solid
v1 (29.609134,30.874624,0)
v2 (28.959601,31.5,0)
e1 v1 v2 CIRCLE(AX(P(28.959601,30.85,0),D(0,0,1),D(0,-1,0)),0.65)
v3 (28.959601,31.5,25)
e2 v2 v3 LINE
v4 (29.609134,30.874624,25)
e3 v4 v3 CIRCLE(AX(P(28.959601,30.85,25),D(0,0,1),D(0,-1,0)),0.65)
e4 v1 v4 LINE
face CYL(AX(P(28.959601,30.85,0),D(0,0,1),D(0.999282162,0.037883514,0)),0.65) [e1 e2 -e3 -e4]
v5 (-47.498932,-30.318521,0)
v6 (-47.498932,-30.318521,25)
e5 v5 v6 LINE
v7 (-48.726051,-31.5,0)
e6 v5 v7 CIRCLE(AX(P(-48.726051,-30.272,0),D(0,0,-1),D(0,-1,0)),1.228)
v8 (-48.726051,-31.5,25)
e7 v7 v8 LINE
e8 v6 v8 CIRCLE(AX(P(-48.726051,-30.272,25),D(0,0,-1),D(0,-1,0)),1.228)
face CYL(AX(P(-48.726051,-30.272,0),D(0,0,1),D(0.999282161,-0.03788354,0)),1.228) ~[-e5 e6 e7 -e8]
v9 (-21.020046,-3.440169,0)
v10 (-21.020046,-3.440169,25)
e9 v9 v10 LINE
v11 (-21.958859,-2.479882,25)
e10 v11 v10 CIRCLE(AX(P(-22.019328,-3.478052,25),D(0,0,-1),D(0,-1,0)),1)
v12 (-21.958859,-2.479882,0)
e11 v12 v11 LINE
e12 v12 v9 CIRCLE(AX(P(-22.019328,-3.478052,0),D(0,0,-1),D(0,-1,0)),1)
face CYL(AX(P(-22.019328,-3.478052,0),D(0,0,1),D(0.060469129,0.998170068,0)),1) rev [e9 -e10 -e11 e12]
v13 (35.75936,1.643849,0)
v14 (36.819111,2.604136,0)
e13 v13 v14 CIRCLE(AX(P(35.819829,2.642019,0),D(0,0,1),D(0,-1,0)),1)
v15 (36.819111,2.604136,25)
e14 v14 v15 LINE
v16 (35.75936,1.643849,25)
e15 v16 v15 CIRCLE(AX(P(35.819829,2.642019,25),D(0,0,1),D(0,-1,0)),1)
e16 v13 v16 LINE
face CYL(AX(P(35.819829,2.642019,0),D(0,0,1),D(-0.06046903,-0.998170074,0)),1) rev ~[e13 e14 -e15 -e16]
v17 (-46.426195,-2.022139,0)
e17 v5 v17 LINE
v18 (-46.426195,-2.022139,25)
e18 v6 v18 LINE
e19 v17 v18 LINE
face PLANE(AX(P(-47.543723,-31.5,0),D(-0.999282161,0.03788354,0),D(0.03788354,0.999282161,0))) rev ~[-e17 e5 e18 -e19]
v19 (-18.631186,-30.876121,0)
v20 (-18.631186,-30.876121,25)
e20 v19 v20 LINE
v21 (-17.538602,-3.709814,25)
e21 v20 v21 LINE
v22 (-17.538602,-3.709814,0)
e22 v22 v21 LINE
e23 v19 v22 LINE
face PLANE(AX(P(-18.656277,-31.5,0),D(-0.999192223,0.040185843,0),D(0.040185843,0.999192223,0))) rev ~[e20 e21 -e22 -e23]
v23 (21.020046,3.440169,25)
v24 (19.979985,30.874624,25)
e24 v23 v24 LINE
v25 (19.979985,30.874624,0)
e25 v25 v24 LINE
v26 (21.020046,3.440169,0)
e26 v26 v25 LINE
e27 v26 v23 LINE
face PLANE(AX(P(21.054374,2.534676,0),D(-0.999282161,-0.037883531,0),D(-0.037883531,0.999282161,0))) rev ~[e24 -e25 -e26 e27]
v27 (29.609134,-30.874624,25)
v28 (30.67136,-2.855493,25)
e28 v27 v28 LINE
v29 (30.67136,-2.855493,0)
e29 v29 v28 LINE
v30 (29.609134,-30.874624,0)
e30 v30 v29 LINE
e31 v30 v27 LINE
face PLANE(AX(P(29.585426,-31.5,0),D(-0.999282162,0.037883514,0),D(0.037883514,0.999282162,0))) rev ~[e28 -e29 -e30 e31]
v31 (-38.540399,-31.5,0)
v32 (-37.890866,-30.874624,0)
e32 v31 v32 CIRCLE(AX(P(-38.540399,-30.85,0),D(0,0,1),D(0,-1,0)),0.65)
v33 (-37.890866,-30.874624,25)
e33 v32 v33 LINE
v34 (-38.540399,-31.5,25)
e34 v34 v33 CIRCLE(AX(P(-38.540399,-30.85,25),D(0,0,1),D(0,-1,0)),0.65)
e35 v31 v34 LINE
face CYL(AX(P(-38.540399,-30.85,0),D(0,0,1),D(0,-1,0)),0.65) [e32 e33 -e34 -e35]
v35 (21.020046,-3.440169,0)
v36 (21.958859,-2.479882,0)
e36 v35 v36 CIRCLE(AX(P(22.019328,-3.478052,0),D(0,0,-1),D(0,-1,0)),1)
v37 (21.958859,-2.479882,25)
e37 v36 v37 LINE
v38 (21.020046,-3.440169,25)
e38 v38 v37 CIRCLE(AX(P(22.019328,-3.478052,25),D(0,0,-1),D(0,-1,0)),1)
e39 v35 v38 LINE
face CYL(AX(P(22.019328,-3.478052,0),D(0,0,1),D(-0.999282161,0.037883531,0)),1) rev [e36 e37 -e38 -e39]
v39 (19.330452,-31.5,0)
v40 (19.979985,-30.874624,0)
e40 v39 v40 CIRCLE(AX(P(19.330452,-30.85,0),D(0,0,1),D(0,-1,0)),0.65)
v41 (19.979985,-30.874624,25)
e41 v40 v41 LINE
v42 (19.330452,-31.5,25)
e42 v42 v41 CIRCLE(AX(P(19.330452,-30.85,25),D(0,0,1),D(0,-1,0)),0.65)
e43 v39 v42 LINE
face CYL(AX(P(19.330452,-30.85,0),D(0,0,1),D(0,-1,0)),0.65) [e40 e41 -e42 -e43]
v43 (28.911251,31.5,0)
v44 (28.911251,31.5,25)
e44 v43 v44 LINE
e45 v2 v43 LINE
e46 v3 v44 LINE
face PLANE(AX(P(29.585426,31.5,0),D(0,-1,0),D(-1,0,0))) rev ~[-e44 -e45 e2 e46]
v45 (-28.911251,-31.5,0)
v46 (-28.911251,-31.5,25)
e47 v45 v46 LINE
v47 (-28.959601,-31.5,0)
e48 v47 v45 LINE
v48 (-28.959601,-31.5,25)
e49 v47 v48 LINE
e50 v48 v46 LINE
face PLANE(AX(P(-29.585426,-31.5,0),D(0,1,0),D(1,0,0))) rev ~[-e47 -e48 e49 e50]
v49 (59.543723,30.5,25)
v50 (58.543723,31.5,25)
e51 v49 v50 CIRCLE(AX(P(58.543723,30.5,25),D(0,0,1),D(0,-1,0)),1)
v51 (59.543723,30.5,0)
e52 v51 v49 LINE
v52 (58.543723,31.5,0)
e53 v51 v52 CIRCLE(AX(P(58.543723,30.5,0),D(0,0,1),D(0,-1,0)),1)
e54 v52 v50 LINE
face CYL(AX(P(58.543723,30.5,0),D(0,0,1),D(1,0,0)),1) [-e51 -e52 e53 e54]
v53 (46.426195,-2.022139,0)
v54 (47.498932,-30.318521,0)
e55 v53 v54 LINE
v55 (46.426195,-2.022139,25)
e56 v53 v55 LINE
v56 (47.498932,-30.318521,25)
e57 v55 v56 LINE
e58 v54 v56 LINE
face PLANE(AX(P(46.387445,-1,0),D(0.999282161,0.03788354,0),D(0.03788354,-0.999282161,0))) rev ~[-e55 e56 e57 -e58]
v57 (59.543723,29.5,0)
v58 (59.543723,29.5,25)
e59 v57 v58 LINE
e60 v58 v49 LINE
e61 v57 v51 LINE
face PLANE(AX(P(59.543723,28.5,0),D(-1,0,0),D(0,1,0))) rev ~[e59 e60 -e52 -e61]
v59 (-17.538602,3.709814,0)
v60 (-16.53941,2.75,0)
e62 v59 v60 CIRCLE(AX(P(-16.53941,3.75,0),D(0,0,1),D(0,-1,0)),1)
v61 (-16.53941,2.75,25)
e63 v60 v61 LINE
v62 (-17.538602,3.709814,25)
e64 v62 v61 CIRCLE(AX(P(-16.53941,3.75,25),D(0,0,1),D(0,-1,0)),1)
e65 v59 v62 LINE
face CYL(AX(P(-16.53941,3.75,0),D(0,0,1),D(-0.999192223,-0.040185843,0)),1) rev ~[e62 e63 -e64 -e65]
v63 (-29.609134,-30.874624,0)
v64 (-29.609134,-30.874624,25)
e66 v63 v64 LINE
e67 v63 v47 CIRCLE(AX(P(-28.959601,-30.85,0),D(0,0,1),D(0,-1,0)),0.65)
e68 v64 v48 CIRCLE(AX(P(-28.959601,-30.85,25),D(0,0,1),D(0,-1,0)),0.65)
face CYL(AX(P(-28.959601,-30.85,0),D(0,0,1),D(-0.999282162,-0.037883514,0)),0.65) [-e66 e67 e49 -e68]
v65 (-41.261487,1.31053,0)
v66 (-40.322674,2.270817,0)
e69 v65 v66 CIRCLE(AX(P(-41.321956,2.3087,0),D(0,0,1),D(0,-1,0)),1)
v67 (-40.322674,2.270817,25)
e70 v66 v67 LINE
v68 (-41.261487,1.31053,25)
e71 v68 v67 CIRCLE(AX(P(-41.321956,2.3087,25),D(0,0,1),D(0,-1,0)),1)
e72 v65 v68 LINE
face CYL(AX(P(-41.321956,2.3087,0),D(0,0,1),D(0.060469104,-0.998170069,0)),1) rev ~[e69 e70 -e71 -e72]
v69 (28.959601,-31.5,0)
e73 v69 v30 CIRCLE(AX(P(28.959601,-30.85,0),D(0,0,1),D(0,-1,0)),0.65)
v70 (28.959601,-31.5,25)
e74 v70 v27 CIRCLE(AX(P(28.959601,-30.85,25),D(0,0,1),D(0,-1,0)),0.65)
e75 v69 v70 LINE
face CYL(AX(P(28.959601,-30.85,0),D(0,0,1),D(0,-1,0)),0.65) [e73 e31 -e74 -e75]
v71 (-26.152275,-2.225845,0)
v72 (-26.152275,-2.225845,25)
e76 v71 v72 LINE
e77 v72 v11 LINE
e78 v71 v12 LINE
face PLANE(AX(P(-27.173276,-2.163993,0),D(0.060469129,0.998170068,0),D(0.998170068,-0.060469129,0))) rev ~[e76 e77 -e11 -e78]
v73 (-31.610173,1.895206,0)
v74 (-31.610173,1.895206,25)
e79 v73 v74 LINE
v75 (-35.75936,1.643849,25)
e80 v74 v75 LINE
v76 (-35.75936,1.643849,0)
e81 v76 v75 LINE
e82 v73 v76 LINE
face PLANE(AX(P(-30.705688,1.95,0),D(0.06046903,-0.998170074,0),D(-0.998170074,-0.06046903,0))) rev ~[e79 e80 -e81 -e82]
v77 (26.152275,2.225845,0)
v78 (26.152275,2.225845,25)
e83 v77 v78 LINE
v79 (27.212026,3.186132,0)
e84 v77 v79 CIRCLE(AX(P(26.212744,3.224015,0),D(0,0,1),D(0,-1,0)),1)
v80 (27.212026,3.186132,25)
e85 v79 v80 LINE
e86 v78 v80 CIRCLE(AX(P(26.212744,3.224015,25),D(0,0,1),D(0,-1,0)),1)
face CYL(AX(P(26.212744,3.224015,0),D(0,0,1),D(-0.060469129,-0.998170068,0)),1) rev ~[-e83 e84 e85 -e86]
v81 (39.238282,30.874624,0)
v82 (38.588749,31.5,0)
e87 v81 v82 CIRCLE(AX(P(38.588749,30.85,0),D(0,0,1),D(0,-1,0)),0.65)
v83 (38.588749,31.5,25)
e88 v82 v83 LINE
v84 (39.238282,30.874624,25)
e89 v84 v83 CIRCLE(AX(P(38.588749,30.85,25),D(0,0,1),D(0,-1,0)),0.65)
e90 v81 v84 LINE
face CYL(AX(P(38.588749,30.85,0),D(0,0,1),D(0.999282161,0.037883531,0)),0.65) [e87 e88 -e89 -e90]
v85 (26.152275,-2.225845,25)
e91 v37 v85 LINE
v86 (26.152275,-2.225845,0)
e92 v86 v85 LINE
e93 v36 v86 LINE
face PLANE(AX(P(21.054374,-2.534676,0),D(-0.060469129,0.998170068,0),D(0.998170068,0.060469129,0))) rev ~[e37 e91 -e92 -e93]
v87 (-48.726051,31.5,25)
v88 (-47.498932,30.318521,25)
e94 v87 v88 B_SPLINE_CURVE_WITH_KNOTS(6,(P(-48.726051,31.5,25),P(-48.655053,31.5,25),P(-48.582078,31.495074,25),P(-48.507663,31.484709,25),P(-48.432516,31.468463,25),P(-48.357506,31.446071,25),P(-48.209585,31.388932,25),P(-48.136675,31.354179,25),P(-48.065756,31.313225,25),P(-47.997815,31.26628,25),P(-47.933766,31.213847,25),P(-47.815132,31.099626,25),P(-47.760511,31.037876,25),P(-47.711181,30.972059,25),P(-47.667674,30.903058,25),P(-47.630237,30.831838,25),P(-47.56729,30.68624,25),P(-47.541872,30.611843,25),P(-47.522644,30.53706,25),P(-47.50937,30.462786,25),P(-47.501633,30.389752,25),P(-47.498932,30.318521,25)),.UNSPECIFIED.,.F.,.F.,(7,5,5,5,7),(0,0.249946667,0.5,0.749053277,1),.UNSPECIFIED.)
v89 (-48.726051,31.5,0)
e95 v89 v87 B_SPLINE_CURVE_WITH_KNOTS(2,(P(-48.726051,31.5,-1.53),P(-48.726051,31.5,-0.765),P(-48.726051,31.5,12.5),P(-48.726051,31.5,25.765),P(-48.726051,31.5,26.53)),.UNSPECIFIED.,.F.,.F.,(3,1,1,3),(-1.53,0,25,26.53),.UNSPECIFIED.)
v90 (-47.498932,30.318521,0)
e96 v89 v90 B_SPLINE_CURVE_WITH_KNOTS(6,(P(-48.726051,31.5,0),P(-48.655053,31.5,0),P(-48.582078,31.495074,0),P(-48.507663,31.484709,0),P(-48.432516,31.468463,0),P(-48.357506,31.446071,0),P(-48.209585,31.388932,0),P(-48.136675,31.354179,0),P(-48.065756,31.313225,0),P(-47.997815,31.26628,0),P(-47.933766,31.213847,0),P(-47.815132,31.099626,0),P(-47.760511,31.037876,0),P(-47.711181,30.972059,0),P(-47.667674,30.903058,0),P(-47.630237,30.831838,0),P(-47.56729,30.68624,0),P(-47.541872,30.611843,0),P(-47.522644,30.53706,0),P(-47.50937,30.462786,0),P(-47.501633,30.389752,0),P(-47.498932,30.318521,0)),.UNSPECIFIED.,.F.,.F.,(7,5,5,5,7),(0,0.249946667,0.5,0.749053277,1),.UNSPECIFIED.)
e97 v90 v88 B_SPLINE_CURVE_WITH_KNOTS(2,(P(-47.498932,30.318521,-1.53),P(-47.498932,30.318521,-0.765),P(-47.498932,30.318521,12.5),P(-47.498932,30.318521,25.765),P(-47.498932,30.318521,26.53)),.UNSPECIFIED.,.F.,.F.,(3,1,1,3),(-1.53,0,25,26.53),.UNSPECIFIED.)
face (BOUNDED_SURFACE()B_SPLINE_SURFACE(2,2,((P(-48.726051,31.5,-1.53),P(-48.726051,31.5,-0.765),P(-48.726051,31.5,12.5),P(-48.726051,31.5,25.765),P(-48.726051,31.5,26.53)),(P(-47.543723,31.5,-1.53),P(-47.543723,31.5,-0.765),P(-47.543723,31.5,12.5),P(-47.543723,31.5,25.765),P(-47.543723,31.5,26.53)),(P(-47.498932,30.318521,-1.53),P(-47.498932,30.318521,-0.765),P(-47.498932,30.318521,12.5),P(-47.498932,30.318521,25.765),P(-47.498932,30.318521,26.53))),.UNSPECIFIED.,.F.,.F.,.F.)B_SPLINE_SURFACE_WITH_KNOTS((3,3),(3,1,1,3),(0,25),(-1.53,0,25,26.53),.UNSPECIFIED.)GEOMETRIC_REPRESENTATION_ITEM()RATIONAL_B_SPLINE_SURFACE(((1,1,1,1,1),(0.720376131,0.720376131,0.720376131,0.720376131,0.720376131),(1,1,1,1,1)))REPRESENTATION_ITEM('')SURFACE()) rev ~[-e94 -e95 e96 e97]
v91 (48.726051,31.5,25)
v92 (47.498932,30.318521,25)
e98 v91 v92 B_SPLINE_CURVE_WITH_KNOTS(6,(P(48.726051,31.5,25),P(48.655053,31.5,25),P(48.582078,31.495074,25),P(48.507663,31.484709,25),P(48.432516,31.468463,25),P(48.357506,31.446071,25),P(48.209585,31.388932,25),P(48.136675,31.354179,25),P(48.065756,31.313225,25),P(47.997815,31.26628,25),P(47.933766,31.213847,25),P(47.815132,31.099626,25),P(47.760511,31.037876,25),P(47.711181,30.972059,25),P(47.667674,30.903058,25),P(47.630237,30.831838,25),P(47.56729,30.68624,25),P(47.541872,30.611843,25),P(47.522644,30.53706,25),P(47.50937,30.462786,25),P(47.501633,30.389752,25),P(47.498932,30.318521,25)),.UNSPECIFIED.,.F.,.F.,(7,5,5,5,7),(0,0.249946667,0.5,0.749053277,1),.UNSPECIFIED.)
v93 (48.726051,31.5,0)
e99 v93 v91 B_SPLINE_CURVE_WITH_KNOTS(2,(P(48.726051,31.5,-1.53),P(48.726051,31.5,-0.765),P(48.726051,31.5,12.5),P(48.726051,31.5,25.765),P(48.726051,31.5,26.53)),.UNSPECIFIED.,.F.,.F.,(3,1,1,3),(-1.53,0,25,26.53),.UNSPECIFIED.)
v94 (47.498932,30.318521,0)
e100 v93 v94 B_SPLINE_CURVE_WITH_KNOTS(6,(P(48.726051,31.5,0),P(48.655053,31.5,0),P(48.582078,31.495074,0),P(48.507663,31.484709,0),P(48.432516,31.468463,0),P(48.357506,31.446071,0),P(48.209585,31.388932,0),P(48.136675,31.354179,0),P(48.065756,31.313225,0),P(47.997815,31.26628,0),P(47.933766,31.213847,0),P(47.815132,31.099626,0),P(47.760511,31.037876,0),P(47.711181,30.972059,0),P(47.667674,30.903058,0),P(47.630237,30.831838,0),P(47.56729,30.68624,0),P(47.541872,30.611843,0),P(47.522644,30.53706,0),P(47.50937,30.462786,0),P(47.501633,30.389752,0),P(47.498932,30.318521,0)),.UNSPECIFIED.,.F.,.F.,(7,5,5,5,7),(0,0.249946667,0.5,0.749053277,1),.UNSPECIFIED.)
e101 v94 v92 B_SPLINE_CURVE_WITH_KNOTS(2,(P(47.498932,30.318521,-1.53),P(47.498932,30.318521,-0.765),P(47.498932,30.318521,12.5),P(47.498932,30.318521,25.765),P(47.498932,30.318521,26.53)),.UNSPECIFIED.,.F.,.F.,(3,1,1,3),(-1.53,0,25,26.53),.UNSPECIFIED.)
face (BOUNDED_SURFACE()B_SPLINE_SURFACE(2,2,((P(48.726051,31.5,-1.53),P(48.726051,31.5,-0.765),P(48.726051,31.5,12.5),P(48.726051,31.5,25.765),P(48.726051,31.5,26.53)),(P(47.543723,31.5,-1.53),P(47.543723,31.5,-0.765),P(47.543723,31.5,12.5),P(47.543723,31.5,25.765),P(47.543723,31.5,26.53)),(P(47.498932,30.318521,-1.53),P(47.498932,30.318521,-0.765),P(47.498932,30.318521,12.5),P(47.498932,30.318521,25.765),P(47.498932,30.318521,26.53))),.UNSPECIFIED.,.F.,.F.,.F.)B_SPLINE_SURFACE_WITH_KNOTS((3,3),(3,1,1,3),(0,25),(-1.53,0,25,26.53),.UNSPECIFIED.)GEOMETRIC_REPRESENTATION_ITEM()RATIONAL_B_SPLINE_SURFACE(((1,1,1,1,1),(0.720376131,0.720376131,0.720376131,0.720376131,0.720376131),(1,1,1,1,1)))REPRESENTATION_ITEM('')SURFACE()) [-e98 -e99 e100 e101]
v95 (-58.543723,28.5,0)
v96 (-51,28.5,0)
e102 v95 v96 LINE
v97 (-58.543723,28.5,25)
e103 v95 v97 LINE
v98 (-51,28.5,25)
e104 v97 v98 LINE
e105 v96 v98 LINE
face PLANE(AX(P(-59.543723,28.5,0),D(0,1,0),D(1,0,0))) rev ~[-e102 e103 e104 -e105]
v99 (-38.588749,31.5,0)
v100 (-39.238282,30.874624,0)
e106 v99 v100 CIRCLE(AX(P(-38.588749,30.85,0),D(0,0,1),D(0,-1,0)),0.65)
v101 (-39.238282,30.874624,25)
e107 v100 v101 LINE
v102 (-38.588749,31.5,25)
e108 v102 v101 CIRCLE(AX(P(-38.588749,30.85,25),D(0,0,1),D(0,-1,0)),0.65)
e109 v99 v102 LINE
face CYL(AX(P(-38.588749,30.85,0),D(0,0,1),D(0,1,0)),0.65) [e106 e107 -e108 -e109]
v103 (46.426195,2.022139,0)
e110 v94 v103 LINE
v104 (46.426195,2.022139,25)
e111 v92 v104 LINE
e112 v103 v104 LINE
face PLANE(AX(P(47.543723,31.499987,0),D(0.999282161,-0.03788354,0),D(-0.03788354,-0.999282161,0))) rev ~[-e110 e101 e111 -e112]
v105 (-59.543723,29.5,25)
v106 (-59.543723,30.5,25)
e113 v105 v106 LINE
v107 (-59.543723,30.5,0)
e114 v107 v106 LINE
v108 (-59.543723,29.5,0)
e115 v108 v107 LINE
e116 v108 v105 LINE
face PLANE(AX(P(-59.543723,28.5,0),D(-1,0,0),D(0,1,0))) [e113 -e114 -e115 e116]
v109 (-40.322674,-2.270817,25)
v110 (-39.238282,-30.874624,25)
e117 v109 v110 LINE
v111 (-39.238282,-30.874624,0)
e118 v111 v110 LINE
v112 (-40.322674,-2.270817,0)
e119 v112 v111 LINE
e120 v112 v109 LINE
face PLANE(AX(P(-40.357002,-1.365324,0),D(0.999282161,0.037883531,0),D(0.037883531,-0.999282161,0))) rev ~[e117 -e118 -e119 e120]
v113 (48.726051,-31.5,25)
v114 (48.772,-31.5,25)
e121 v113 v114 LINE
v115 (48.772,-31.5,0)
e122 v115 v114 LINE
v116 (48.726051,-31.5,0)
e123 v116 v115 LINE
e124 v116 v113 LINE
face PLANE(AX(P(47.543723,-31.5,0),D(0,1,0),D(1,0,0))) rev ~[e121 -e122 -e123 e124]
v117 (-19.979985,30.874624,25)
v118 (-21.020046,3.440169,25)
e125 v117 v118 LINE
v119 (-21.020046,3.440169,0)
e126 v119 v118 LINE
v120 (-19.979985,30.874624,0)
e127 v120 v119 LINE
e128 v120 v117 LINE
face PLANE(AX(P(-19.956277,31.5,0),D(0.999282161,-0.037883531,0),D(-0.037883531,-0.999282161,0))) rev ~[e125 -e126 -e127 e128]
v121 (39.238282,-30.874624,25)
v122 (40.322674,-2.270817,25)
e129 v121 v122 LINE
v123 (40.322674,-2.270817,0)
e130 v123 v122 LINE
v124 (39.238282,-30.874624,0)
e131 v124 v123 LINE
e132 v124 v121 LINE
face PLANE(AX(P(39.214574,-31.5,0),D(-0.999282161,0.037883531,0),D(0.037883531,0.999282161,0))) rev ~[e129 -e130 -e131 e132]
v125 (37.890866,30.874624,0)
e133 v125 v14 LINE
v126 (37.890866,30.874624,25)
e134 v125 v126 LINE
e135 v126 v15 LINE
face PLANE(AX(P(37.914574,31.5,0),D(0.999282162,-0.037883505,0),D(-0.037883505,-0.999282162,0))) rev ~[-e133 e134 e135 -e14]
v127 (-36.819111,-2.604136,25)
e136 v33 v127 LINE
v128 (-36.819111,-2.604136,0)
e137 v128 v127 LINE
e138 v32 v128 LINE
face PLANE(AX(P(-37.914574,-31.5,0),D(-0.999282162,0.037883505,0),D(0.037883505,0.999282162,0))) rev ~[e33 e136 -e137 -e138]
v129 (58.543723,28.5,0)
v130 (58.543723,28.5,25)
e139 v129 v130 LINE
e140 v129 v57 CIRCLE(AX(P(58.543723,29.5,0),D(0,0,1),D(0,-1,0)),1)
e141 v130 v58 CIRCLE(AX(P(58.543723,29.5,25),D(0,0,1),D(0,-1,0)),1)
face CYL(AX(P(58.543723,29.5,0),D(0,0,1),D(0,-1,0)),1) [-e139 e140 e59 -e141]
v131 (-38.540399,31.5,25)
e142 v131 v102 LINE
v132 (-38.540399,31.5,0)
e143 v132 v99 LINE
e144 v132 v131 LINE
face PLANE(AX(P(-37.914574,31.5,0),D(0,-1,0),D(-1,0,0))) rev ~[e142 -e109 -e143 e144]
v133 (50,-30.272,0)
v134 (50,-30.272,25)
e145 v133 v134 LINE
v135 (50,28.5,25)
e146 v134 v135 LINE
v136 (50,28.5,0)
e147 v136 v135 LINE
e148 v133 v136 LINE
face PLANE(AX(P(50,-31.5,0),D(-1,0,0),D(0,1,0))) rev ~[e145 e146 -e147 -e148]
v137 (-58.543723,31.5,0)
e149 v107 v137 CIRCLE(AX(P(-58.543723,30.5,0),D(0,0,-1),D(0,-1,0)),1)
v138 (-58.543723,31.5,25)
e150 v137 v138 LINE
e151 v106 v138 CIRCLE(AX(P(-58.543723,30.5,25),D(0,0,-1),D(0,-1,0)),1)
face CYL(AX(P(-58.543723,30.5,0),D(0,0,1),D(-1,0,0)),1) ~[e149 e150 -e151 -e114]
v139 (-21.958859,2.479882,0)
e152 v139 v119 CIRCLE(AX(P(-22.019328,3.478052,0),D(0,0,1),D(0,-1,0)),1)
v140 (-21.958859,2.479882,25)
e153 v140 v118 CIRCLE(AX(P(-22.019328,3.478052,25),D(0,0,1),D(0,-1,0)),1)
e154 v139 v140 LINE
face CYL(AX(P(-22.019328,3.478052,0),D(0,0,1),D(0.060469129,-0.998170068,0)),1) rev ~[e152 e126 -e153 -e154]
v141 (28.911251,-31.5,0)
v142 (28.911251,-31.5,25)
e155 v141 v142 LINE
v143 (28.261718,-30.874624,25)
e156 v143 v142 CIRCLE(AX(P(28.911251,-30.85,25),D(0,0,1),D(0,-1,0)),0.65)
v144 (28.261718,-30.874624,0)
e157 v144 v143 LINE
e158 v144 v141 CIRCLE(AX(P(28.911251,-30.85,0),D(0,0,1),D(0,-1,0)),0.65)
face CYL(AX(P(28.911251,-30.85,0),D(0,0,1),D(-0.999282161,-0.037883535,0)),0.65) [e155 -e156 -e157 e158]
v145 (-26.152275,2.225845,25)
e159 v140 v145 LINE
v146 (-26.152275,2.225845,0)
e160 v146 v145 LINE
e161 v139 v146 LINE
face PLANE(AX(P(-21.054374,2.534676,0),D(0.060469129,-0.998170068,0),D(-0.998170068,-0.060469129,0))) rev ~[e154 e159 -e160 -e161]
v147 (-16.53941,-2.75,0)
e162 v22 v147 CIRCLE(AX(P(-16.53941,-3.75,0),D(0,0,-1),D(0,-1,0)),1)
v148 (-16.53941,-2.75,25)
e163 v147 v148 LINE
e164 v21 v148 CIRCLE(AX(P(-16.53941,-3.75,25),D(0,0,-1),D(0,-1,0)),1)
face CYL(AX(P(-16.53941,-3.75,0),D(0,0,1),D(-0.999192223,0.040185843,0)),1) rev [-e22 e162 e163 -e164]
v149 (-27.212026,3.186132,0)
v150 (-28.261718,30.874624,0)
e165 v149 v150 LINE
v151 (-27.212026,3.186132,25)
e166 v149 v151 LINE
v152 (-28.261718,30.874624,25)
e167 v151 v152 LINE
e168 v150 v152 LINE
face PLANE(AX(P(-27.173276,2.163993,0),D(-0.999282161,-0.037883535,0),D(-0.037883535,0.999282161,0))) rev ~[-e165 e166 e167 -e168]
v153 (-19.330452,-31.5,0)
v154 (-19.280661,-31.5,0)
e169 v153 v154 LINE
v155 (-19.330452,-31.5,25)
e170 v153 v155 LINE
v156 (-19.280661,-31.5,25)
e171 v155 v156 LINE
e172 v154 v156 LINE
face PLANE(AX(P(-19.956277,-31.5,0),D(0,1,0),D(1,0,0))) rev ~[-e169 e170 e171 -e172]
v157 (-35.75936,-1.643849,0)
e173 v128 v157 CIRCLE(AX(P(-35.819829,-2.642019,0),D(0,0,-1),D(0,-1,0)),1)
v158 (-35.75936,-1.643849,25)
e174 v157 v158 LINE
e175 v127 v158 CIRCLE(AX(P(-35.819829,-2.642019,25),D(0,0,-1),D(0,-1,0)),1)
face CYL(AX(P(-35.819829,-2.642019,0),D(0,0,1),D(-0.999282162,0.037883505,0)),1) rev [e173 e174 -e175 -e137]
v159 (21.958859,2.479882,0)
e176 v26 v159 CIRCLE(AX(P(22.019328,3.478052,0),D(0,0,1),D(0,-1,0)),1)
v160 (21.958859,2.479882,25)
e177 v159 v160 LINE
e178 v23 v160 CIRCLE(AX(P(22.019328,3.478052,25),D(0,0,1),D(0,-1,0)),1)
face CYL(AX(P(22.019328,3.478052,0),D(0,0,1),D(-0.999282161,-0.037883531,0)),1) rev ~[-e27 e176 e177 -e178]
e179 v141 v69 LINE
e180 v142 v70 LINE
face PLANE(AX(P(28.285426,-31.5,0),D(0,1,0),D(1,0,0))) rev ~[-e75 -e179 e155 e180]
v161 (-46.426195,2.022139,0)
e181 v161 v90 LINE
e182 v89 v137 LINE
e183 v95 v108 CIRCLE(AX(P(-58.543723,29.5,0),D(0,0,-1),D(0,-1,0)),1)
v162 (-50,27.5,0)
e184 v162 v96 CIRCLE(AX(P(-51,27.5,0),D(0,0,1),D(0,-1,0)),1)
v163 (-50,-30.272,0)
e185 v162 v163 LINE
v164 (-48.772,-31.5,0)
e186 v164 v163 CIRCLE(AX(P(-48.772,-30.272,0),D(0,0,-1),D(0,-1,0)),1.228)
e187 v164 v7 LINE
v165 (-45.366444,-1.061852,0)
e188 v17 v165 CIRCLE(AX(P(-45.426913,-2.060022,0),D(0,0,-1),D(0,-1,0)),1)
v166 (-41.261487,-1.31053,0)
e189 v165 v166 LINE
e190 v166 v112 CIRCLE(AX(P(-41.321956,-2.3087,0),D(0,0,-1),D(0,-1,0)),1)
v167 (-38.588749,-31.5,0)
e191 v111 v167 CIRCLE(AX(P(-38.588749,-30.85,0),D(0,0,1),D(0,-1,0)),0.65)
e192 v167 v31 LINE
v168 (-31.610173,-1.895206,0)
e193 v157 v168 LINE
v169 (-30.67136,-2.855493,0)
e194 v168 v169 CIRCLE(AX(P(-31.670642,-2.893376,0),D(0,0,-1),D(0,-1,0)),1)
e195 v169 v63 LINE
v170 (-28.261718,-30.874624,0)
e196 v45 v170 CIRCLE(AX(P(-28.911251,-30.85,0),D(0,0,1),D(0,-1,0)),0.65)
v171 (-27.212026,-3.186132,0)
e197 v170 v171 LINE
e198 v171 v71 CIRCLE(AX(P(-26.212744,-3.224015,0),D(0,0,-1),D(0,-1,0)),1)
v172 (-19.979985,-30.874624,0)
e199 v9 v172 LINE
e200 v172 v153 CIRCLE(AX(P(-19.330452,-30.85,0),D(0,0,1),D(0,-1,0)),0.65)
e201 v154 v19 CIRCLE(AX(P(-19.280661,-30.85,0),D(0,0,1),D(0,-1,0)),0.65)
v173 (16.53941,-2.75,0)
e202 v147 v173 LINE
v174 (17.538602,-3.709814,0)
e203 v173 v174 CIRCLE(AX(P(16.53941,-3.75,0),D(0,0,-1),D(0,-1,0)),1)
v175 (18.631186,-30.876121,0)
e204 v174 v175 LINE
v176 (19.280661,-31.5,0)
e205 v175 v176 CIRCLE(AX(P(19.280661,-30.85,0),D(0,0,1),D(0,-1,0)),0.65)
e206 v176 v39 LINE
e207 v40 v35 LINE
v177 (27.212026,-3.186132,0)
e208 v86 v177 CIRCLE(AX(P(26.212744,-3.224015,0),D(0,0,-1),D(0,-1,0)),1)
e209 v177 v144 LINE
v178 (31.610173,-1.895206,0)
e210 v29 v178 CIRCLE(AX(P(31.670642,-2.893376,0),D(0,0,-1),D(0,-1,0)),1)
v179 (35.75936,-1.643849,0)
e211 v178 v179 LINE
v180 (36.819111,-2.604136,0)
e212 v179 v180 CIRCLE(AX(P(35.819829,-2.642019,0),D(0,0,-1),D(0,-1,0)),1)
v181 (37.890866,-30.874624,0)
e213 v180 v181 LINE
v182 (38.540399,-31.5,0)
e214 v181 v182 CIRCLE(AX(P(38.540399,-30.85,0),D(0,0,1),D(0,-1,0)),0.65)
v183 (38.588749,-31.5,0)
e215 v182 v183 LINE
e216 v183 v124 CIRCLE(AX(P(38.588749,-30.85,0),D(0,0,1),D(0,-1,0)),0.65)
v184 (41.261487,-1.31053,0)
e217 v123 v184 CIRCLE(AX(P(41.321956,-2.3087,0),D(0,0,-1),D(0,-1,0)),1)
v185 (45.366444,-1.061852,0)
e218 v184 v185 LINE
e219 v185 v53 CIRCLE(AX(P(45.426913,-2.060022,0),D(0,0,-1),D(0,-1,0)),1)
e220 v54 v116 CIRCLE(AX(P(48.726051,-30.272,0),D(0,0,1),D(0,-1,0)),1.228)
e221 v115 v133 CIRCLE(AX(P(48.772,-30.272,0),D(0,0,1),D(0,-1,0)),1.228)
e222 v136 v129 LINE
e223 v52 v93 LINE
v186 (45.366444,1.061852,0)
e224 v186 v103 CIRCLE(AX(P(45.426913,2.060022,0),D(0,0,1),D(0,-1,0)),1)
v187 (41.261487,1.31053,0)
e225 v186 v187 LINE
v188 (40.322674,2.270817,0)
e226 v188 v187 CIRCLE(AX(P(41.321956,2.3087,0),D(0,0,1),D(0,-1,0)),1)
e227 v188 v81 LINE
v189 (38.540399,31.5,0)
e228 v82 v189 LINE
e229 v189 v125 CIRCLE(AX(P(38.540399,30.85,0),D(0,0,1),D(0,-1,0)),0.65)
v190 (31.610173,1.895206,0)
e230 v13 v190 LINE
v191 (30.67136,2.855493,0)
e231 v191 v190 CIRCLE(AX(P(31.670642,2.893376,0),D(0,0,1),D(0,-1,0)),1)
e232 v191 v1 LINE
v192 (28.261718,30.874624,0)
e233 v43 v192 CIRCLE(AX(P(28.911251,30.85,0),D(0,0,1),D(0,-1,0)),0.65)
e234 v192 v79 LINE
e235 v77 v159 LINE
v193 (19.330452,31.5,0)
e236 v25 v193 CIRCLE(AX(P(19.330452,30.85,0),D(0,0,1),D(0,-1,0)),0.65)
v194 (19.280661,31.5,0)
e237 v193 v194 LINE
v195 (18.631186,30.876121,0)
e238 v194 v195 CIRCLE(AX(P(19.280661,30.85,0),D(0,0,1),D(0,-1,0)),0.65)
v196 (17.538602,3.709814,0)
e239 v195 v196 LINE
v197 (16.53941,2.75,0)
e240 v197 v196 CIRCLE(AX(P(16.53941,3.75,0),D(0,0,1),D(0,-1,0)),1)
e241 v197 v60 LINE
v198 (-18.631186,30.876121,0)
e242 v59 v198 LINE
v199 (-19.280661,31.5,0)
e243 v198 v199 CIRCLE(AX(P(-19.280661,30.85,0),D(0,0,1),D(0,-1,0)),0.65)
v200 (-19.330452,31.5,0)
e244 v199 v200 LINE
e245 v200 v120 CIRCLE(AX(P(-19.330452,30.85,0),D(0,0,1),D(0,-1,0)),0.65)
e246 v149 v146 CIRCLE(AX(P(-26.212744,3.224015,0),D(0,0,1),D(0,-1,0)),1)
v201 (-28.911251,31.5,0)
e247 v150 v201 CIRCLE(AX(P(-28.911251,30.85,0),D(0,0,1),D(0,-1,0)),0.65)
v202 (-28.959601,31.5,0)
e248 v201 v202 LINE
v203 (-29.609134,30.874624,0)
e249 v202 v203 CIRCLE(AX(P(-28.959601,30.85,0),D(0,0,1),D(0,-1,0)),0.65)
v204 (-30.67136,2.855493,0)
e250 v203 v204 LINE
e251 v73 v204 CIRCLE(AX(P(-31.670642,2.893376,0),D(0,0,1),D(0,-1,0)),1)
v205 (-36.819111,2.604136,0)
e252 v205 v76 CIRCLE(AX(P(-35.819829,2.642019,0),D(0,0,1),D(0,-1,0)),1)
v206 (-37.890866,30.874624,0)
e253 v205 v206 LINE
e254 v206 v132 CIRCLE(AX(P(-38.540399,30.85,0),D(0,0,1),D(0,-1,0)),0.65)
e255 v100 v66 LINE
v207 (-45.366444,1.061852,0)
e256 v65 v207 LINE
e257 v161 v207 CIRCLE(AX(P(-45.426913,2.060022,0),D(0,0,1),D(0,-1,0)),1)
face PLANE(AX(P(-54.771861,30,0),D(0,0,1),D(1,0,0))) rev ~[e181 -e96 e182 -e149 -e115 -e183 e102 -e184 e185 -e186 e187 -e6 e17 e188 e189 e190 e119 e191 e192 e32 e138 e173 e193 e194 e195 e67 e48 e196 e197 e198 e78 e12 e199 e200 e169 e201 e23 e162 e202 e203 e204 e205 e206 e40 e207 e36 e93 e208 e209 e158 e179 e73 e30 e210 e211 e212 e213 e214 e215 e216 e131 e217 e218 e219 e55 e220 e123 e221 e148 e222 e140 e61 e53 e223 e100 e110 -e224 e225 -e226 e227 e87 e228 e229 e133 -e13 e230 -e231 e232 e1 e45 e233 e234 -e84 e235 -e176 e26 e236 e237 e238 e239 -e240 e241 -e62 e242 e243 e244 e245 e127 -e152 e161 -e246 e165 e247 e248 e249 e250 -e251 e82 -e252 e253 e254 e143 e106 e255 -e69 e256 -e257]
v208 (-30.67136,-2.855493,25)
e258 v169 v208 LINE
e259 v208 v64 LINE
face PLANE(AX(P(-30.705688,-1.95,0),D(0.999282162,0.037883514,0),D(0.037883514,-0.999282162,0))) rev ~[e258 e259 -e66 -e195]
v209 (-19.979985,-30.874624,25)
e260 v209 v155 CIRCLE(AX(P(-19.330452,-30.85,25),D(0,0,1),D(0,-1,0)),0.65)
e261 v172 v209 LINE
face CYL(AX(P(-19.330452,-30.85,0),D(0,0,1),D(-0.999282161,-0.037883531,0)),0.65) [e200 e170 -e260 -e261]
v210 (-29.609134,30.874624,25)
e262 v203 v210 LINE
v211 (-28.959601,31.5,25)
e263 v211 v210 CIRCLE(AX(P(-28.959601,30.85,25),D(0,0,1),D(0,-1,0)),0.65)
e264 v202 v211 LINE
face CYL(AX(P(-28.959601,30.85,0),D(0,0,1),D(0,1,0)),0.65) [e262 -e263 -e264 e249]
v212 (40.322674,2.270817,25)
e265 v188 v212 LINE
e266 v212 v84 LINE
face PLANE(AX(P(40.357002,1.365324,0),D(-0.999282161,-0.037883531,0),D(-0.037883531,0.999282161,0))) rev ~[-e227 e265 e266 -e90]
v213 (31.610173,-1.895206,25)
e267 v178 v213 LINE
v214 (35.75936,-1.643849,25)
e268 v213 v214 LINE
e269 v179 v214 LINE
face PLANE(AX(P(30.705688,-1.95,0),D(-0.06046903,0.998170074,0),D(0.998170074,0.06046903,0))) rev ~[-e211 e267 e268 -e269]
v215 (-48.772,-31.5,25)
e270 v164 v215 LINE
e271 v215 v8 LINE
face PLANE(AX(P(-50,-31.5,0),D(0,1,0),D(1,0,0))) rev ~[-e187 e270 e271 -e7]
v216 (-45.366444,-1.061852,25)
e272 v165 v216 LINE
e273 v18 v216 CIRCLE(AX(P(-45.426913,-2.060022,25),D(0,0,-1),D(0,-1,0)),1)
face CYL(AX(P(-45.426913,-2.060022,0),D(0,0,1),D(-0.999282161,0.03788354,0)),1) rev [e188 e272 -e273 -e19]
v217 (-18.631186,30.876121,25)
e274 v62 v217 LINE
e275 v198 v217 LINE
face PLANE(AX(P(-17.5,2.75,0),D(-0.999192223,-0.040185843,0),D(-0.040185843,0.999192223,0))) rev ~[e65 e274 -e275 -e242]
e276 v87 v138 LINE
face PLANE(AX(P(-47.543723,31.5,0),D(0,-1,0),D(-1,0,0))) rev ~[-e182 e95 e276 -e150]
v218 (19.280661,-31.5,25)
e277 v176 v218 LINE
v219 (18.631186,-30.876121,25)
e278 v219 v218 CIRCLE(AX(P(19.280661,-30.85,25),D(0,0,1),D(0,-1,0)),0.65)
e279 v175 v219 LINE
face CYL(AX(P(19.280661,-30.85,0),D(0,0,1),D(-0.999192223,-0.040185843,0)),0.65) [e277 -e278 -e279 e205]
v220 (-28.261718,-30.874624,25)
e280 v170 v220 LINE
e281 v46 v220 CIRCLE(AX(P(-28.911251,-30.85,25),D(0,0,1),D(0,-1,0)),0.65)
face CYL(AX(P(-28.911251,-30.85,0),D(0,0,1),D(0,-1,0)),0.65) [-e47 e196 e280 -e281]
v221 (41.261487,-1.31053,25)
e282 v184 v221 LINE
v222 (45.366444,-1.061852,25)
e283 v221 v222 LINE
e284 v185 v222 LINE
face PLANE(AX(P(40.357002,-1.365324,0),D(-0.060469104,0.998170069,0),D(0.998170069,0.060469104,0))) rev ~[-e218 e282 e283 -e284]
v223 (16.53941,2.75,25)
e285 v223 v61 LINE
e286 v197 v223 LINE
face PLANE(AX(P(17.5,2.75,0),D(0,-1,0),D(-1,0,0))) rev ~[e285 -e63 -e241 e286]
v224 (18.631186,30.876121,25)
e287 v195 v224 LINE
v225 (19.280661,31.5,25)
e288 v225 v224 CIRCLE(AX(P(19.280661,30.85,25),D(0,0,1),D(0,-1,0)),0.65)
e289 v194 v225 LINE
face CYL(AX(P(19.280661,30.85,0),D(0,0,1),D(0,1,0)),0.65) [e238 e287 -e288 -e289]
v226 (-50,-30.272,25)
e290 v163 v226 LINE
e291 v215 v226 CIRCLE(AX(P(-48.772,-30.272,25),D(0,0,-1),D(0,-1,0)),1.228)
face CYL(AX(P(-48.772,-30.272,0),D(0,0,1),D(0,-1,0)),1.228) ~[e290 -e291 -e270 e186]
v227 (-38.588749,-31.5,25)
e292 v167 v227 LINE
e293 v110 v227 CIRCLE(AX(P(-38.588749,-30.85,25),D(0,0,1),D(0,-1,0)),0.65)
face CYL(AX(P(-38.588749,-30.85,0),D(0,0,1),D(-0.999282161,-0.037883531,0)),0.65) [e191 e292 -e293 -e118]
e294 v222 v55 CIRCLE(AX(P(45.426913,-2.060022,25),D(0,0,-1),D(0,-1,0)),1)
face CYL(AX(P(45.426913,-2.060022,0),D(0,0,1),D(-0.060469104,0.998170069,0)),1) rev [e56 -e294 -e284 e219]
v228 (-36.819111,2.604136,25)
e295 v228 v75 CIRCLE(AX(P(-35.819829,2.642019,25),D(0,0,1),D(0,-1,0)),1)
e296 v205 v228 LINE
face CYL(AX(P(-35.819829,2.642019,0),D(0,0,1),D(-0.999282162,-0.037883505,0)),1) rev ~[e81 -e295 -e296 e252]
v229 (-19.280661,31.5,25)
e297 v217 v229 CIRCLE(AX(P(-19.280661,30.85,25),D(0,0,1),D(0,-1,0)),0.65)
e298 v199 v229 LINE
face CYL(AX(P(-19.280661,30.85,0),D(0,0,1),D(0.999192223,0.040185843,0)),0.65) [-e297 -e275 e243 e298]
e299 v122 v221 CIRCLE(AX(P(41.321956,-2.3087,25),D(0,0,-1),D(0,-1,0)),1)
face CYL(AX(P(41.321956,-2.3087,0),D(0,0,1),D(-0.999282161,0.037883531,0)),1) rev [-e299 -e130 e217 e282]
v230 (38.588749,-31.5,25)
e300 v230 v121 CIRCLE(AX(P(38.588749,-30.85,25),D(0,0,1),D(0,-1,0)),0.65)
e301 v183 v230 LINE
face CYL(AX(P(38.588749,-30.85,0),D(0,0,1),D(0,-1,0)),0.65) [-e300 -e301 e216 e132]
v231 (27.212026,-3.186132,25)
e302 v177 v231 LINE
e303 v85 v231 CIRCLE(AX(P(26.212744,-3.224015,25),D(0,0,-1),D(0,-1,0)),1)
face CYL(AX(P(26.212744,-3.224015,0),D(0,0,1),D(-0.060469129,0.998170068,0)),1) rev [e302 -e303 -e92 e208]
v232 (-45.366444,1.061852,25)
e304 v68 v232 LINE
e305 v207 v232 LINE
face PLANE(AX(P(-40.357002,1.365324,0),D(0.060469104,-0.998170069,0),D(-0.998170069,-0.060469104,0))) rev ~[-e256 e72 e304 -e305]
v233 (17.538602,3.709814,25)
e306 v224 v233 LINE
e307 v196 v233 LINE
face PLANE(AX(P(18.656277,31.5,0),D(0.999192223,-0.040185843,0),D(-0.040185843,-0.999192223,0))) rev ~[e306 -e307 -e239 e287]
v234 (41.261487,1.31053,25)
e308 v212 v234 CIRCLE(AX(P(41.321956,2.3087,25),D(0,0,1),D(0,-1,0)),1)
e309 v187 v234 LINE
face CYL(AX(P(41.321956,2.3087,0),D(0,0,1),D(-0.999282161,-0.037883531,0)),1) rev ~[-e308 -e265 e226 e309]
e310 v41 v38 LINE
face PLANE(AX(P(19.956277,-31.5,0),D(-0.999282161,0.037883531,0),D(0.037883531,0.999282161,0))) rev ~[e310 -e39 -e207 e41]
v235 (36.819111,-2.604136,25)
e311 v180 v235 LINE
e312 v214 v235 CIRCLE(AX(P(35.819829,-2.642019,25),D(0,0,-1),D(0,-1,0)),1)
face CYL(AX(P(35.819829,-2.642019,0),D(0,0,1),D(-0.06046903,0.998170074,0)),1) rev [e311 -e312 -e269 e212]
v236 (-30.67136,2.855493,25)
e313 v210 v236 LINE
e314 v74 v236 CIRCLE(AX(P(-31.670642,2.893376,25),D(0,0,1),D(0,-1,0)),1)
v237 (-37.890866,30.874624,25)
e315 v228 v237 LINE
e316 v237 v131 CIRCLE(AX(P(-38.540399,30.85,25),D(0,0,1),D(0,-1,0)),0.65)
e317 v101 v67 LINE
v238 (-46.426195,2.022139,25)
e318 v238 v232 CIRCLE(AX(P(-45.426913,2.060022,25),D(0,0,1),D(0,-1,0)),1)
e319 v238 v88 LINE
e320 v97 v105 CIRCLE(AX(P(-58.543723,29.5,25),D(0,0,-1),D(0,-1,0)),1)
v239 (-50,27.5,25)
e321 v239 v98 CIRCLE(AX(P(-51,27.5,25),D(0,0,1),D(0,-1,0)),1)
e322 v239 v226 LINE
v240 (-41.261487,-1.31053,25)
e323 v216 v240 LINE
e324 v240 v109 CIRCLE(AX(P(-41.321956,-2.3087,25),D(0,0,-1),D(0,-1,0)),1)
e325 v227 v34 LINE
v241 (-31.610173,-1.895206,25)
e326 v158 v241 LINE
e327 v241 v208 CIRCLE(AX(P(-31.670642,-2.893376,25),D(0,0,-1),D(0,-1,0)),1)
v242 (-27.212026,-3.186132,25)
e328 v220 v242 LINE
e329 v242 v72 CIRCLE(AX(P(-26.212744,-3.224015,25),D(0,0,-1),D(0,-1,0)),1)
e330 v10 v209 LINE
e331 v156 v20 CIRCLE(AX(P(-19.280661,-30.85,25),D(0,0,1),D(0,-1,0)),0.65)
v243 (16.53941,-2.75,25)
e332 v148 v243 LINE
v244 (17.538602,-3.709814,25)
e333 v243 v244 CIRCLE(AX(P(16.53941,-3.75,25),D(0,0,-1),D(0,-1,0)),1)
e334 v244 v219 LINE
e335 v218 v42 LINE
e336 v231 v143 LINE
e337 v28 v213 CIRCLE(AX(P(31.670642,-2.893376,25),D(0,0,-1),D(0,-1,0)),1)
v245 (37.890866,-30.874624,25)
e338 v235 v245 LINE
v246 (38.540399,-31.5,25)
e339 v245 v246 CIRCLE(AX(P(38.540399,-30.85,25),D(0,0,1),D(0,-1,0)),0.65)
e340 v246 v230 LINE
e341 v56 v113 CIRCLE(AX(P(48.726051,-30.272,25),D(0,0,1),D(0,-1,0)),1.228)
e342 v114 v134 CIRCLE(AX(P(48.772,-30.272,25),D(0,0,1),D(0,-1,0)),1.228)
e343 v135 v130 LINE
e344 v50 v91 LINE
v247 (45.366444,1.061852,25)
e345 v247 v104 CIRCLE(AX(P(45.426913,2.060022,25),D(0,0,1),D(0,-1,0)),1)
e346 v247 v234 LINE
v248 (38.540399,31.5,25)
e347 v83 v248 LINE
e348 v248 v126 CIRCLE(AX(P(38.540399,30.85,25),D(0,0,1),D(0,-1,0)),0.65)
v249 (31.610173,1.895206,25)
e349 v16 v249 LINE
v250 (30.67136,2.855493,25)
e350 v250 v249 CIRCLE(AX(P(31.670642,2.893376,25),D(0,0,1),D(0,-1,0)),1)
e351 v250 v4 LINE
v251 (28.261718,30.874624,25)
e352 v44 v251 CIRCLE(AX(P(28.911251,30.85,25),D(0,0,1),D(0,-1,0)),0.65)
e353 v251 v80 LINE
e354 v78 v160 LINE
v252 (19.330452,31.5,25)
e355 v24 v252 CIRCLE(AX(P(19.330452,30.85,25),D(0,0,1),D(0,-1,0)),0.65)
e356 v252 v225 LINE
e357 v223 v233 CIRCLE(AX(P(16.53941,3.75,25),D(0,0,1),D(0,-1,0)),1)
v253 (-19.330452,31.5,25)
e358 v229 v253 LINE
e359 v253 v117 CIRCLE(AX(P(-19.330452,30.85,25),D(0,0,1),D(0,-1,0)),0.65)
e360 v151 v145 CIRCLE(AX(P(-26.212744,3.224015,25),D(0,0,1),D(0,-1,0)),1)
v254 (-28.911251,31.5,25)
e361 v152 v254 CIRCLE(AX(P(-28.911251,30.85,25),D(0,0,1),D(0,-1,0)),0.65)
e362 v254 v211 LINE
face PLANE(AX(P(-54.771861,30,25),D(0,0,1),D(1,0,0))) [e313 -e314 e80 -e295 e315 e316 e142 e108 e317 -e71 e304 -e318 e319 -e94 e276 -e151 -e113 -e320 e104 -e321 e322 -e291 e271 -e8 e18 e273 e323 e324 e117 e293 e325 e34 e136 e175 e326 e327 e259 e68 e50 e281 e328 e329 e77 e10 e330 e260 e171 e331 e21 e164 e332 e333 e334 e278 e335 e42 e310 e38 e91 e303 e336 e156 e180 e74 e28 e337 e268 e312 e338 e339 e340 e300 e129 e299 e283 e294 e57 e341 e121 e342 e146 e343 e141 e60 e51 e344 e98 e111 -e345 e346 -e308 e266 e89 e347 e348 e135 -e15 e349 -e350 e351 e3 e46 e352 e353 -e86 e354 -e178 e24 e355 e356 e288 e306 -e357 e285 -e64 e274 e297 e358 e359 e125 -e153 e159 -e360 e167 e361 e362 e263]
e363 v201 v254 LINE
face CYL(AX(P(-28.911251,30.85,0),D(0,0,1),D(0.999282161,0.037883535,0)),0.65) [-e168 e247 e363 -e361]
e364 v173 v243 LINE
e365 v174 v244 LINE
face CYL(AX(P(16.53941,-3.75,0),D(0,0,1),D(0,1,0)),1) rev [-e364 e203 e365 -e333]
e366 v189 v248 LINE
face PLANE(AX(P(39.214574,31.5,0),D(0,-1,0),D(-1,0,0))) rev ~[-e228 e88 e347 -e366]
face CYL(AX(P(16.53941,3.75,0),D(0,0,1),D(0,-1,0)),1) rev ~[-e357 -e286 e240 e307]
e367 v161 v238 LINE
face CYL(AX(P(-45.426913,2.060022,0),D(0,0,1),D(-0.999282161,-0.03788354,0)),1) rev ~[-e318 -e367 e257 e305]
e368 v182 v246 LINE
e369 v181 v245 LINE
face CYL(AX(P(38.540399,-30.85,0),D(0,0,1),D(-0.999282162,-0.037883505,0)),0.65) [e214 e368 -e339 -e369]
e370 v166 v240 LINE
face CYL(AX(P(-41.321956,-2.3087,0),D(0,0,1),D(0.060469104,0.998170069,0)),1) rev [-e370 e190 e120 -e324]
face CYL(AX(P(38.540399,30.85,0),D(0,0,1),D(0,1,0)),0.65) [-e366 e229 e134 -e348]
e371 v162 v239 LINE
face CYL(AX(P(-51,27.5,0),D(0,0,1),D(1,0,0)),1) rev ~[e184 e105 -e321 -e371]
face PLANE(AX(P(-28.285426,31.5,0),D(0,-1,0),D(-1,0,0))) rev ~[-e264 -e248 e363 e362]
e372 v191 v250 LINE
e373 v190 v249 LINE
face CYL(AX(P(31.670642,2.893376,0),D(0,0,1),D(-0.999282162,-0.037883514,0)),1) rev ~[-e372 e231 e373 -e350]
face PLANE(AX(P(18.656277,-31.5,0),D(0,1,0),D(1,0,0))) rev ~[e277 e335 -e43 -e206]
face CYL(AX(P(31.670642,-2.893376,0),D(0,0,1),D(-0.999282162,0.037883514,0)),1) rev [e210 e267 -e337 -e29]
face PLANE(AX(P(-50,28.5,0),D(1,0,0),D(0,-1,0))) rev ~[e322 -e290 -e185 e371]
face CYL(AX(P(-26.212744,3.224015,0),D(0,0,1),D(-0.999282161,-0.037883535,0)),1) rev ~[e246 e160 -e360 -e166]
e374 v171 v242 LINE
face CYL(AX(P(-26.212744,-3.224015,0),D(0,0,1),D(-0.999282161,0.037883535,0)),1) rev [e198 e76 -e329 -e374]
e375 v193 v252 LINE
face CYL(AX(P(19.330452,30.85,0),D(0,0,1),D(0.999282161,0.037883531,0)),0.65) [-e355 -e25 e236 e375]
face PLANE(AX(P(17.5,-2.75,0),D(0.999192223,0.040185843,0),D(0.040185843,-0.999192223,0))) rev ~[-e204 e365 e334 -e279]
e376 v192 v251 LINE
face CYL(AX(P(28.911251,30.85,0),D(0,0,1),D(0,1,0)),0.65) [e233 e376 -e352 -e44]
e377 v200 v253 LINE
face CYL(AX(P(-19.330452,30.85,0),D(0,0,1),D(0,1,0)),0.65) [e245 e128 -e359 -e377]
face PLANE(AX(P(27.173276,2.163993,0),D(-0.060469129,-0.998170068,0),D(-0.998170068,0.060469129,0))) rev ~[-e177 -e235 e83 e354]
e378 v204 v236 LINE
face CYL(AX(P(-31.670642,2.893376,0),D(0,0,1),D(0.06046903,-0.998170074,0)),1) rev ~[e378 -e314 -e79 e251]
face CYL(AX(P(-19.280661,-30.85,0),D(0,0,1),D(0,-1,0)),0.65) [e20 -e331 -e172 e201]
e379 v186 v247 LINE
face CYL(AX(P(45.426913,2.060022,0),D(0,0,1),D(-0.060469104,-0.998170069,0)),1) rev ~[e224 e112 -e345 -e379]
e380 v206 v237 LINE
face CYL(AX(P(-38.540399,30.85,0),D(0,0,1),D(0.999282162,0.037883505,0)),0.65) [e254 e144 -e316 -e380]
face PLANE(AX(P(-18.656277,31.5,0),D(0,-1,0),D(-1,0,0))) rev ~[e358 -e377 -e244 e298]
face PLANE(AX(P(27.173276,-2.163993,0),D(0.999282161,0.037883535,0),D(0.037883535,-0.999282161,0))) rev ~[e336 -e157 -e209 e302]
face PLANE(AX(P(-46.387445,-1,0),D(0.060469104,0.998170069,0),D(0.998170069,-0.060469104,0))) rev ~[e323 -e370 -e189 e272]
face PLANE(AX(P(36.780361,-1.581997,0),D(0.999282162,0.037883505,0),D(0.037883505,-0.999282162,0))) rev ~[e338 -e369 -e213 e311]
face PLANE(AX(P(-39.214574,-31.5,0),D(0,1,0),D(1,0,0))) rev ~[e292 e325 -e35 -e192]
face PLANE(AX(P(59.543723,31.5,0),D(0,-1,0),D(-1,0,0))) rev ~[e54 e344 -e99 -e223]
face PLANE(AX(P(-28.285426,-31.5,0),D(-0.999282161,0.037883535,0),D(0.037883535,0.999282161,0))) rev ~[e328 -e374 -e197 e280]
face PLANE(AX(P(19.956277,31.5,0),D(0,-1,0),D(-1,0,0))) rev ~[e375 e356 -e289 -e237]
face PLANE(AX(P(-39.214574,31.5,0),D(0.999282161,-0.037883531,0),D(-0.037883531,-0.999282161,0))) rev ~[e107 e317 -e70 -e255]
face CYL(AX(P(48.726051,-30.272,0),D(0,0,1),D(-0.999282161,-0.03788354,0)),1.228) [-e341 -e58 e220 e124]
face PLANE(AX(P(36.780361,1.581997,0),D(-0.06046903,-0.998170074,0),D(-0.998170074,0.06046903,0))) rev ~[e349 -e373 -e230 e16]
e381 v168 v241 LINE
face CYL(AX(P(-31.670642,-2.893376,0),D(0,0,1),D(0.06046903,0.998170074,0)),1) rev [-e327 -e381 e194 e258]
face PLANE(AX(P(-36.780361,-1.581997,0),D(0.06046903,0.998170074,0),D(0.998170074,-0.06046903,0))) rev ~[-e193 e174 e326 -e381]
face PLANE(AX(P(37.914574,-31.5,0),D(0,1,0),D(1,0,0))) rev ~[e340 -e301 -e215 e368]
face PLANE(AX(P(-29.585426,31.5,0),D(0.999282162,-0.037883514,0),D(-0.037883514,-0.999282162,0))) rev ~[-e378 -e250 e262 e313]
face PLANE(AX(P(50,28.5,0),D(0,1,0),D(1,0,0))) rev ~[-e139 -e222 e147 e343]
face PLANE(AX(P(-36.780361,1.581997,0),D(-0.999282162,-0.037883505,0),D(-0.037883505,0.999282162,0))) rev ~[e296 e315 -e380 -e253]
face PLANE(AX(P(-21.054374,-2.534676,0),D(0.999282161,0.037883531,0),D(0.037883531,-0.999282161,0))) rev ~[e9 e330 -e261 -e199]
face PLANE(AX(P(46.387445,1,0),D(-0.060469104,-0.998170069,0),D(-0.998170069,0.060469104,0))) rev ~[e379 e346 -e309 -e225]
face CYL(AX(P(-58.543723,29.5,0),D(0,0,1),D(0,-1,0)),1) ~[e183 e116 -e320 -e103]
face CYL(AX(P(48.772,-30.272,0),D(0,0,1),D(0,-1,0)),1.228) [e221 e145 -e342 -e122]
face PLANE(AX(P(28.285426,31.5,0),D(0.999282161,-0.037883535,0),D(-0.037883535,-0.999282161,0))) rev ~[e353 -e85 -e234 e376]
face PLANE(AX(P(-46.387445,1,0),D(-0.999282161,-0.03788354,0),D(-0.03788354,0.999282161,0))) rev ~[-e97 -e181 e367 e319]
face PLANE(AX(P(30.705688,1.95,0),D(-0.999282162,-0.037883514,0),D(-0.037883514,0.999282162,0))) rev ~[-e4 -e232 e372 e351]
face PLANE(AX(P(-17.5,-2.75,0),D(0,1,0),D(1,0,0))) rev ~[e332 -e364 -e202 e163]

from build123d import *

# Parameters (mm, degrees)
F0_W     = 9.543723
F0_H     = 3
F0_W_2   = 2.456277
F1_DEPTH = 25
F2_R     = 0.65
F3_R     = 1.228
F4_R     = 1


with BuildPart() as f1:
    # F0 (on Top) → F1 (new body)
    with BuildSketch(Plane.XY):
        with Locations((-54.771861, 30)):
            Rectangle(F0_W, F0_H)
        with Locations((-48.771861, 30)):
            Rectangle(F0_W_2, F0_H)
        Polygon((-46.387445, 1), (-47.543723, 31.5), (-47.543723, 28.5), (-50, 28.5), (-50, 0), (-50, -31.5), (-47.543723, -31.5), (-46.387445, -1), (-40.370852, -1), (-40.357002, -1.365324), (-36.780361, -1.581997), (-36.758297, -1), (-30.741703, -1), (-30.705688, -1.95), (-27.173276, -2.163993), (-27.129148, -1), (-21.112555, -1), (-21.054374, -2.534676), (-17.5, -2.75), (0, -2.75), (17.5, -2.75), (21.054374, -2.534676), (21.112555, -1), (27.129148, -1), (27.173276, -2.163993), (30.705688, -1.95), (30.741703, -1), (36.758297, -1), (36.780361, -1.581997), (40.357002, -1.365324), (40.370852, -1), (46.387445, -1), (47.543723, -31.5), (50, -31.5), (50, 0), (50, 28.5), (47.543723, 28.5), (47.543723, 31.5), (46.387445, 1), (40.370852, 1), (40.357002, 1.365324), (36.780361, 1.581997), (36.758297, 1), (30.741703, 1), (30.705688, 1.95), (27.173276, 2.163993), (27.129148, 1), (21.112555, 1), (21.054374, 2.534676), (17.5, 2.75), (0, 2.75), (-17.5, 2.75), (-21.054374, 2.534676), (-21.112555, 1), (-27.129148, 1), (-27.173276, 2.163993), (-30.705688, 1.95), (-30.741703, 1), (-36.758297, 1), (-36.780361, 1.581997), (-40.357002, 1.365324), (-40.370852, 1), align=None)
        Polygon((-36.780361, -1.581997), (-40.357002, -1.365324), (-39.214574, -31.5), (-37.914574, -31.5), align=None)
        Polygon((-39.214574, 31.5), (-40.357002, 1.365324), (-36.780361, 1.581997), (-37.914574, 31.5), align=None)
        Polygon((-27.173276, -2.163993), (-30.705688, -1.95), (-29.585426, -31.5), (-28.285426, -31.5), align=None)
        Polygon((-29.585426, 31.5), (-30.705688, 1.95), (-27.173276, 2.163993), (-28.285426, 31.5), align=None)
        Polygon((-17.5, -2.75), (-21.054374, -2.534676), (-19.956277, -31.5), (-18.656277, -31.5), align=None)
        Polygon((-19.956277, 31.5), (-21.054374, 2.534676), (-17.5, 2.75), (-18.656277, 31.5), align=None)
        Polygon((21.054374, -2.534676), (17.5, -2.75), (18.656277, -31.5), (19.956277, -31.5), align=None)
        Polygon((18.656277, 31.5), (17.5, 2.75), (21.054374, 2.534676), (19.956277, 31.5), align=None)
        Polygon((28.285426, 31.5), (27.173276, 2.163993), (30.705688, 1.95), (29.585426, 31.5), align=None)
        Polygon((30.705688, -1.95), (27.173276, -2.163993), (28.285426, -31.5), (29.585426, -31.5), align=None)
        Polygon((40.357002, -1.365324), (36.780361, -1.581997), (37.914574, -31.5), (39.214574, -31.5), align=None)
        Polygon((37.914574, 31.5), (36.780361, 1.581997), (40.357002, 1.365324), (39.214574, 31.5), align=None)
        with Locations((54.771861, 30)):
            Rectangle(F0_W, F0_H)
        with Locations((48.771861, 30)):
            Rectangle(F0_W_2, F0_H)
        Polygon((-36.758297, -1), (-36.780361, -1.581997), (-30.705688, -1.95), (-30.741703, -1), align=None)
        Polygon((-27.129148, -1), (-27.173276, -2.163993), (-21.054374, -2.534676), (-21.112555, -1), align=None)
        Polygon((-21.054374, 2.534676), (-27.173276, 2.163993), (-27.129148, 1), (-21.112555, 1), align=None)
        Polygon((-30.705688, 1.95), (-36.780361, 1.581997), (-36.758297, 1), (-30.741703, 1), align=None)
        Polygon((-40.357002, 1.365324), (-46.387445, 1), (-40.370852, 1), align=None)
        Polygon((-40.370852, -1), (-46.387445, -1), (-40.357002, -1.365324), align=None)
        Polygon((21.112555, -1), (21.054374, -2.534676), (27.173276, -2.163993), (27.129148, -1), align=None)
        Polygon((27.173276, 2.163993), (21.054374, 2.534676), (21.112555, 1), (27.129148, 1), align=None)
        Polygon((36.780361, 1.581997), (30.705688, 1.95), (30.741703, 1), (36.758297, 1), align=None)
        Polygon((30.741703, -1), (30.705688, -1.95), (36.780361, -1.581997), (36.758297, -1), align=None)
        Polygon((40.370852, -1), (40.357002, -1.365324), (46.387445, -1), align=None)
        Polygon((46.387445, 1), (40.357002, 1.365324), (40.370852, 1), align=None)
    extrude(amount=F1_DEPTH)

    # F2
    f2_edges = [f1.edges().sort_by_distance(p)[0] for p in [
        (29.585426, 31.5, 12.5),
        (28.285426, 31.5, 12.5),
        (39.214574, 31.5, 12.5),
        (37.914574, 31.5, 12.5),
        (19.956277, 31.5, 12.5),
        (18.656277, 31.5, 12.5),
        (-18.656277, 31.5, 12.5),
        (-19.956277, 31.5, 12.5),
        (-28.285426, 31.5, 12.5),
        (-29.585426, 31.5, 12.5),
        (-37.914574, 31.5, 12.5),
        (-39.214574, 31.5, 12.5),
        (-39.214574, -31.5, 12.5),
        (-37.914574, -31.5, 12.5),
        (-29.585426, -31.5, 12.5),
        (-28.285426, -31.5, 12.5),
        (-19.956277, -31.5, 12.5),
        (-18.656277, -31.5, 12.5),
        (18.656277, -31.5, 12.5),
        (19.956277, -31.5, 12.5),
        (28.285426, -31.5, 12.5),
        (29.585426, -31.5, 12.5),
        (37.914574, -31.5, 12.5),
        (39.214574, -31.5, 12.5),
    ]]
    fillet(f2_edges, radius=F2_R)

    # F3
    f3_edges = [f1.edges().sort_by_distance(p)[0] for p in [
        (-50, -31.5, 12.5),
        (-47.543723, -31.5, 12.5),
        (47.543723, -31.5, 12.5),
        (50, -31.5, 12.5),
        (-47.543723, 31.5, 12.5),
        (47.543723, 31.5, 12.5),
    ]]
    fillet(f3_edges, radius=F3_R)

    # F4
    f4_edges = [f1.edges().sort_by_distance(p)[0] for p in [
        (-50, 28.5, 12.5),
        (-40.357002, 1.365324, 12.5),
        (-46.387445, 1, 12.5),
        (-36.780361, 1.581997, 12.5),
        (-30.705688, 1.95, 12.5),
        (-21.054374, 2.534676, 12.5),
        (-27.173276, 2.163993, 12.5),
        (-40.357002, -1.365324, 12.5),
        (-46.387445, -1, 12.5),
        (-30.705688, -1.95, 12.5),
        (-21.054374, -2.534676, 12.5),
        (-27.173276, -2.163993, 12.5),
        (-36.780361, -1.581997, 12.5),
        (-17.5, 2.75, 12.5),
        (-17.5, -2.75, 12.5),
        (17.5, -2.75, 12.5),
        (17.5, 2.75, 12.5),
        (27.173276, 2.163993, 12.5),
        (27.173276, -2.163993, 12.5),
        (36.780361, -1.581997, 12.5),
        (30.705688, -1.95, 12.5),
        (30.705688, 1.95, 12.5),
        (36.780361, 1.581997, 12.5),
        (40.357002, -1.365324, 12.5),
        (40.357002, 1.365324, 12.5),
        (46.387445, 1, 12.5),
        (46.387445, -1, 12.5),
        (-59.543723, 31.5, 12.5),
        (-59.543723, 28.5, 12.5),
        (59.543723, 31.5, 12.5),
        (59.543723, 28.5, 12.5),
        (21.054374, 2.534676, 12.5),
        (21.054374, -2.534676, 12.5),
    ]]
    fillet(f4_edges, radius=F4_R)


solid = f1.part
